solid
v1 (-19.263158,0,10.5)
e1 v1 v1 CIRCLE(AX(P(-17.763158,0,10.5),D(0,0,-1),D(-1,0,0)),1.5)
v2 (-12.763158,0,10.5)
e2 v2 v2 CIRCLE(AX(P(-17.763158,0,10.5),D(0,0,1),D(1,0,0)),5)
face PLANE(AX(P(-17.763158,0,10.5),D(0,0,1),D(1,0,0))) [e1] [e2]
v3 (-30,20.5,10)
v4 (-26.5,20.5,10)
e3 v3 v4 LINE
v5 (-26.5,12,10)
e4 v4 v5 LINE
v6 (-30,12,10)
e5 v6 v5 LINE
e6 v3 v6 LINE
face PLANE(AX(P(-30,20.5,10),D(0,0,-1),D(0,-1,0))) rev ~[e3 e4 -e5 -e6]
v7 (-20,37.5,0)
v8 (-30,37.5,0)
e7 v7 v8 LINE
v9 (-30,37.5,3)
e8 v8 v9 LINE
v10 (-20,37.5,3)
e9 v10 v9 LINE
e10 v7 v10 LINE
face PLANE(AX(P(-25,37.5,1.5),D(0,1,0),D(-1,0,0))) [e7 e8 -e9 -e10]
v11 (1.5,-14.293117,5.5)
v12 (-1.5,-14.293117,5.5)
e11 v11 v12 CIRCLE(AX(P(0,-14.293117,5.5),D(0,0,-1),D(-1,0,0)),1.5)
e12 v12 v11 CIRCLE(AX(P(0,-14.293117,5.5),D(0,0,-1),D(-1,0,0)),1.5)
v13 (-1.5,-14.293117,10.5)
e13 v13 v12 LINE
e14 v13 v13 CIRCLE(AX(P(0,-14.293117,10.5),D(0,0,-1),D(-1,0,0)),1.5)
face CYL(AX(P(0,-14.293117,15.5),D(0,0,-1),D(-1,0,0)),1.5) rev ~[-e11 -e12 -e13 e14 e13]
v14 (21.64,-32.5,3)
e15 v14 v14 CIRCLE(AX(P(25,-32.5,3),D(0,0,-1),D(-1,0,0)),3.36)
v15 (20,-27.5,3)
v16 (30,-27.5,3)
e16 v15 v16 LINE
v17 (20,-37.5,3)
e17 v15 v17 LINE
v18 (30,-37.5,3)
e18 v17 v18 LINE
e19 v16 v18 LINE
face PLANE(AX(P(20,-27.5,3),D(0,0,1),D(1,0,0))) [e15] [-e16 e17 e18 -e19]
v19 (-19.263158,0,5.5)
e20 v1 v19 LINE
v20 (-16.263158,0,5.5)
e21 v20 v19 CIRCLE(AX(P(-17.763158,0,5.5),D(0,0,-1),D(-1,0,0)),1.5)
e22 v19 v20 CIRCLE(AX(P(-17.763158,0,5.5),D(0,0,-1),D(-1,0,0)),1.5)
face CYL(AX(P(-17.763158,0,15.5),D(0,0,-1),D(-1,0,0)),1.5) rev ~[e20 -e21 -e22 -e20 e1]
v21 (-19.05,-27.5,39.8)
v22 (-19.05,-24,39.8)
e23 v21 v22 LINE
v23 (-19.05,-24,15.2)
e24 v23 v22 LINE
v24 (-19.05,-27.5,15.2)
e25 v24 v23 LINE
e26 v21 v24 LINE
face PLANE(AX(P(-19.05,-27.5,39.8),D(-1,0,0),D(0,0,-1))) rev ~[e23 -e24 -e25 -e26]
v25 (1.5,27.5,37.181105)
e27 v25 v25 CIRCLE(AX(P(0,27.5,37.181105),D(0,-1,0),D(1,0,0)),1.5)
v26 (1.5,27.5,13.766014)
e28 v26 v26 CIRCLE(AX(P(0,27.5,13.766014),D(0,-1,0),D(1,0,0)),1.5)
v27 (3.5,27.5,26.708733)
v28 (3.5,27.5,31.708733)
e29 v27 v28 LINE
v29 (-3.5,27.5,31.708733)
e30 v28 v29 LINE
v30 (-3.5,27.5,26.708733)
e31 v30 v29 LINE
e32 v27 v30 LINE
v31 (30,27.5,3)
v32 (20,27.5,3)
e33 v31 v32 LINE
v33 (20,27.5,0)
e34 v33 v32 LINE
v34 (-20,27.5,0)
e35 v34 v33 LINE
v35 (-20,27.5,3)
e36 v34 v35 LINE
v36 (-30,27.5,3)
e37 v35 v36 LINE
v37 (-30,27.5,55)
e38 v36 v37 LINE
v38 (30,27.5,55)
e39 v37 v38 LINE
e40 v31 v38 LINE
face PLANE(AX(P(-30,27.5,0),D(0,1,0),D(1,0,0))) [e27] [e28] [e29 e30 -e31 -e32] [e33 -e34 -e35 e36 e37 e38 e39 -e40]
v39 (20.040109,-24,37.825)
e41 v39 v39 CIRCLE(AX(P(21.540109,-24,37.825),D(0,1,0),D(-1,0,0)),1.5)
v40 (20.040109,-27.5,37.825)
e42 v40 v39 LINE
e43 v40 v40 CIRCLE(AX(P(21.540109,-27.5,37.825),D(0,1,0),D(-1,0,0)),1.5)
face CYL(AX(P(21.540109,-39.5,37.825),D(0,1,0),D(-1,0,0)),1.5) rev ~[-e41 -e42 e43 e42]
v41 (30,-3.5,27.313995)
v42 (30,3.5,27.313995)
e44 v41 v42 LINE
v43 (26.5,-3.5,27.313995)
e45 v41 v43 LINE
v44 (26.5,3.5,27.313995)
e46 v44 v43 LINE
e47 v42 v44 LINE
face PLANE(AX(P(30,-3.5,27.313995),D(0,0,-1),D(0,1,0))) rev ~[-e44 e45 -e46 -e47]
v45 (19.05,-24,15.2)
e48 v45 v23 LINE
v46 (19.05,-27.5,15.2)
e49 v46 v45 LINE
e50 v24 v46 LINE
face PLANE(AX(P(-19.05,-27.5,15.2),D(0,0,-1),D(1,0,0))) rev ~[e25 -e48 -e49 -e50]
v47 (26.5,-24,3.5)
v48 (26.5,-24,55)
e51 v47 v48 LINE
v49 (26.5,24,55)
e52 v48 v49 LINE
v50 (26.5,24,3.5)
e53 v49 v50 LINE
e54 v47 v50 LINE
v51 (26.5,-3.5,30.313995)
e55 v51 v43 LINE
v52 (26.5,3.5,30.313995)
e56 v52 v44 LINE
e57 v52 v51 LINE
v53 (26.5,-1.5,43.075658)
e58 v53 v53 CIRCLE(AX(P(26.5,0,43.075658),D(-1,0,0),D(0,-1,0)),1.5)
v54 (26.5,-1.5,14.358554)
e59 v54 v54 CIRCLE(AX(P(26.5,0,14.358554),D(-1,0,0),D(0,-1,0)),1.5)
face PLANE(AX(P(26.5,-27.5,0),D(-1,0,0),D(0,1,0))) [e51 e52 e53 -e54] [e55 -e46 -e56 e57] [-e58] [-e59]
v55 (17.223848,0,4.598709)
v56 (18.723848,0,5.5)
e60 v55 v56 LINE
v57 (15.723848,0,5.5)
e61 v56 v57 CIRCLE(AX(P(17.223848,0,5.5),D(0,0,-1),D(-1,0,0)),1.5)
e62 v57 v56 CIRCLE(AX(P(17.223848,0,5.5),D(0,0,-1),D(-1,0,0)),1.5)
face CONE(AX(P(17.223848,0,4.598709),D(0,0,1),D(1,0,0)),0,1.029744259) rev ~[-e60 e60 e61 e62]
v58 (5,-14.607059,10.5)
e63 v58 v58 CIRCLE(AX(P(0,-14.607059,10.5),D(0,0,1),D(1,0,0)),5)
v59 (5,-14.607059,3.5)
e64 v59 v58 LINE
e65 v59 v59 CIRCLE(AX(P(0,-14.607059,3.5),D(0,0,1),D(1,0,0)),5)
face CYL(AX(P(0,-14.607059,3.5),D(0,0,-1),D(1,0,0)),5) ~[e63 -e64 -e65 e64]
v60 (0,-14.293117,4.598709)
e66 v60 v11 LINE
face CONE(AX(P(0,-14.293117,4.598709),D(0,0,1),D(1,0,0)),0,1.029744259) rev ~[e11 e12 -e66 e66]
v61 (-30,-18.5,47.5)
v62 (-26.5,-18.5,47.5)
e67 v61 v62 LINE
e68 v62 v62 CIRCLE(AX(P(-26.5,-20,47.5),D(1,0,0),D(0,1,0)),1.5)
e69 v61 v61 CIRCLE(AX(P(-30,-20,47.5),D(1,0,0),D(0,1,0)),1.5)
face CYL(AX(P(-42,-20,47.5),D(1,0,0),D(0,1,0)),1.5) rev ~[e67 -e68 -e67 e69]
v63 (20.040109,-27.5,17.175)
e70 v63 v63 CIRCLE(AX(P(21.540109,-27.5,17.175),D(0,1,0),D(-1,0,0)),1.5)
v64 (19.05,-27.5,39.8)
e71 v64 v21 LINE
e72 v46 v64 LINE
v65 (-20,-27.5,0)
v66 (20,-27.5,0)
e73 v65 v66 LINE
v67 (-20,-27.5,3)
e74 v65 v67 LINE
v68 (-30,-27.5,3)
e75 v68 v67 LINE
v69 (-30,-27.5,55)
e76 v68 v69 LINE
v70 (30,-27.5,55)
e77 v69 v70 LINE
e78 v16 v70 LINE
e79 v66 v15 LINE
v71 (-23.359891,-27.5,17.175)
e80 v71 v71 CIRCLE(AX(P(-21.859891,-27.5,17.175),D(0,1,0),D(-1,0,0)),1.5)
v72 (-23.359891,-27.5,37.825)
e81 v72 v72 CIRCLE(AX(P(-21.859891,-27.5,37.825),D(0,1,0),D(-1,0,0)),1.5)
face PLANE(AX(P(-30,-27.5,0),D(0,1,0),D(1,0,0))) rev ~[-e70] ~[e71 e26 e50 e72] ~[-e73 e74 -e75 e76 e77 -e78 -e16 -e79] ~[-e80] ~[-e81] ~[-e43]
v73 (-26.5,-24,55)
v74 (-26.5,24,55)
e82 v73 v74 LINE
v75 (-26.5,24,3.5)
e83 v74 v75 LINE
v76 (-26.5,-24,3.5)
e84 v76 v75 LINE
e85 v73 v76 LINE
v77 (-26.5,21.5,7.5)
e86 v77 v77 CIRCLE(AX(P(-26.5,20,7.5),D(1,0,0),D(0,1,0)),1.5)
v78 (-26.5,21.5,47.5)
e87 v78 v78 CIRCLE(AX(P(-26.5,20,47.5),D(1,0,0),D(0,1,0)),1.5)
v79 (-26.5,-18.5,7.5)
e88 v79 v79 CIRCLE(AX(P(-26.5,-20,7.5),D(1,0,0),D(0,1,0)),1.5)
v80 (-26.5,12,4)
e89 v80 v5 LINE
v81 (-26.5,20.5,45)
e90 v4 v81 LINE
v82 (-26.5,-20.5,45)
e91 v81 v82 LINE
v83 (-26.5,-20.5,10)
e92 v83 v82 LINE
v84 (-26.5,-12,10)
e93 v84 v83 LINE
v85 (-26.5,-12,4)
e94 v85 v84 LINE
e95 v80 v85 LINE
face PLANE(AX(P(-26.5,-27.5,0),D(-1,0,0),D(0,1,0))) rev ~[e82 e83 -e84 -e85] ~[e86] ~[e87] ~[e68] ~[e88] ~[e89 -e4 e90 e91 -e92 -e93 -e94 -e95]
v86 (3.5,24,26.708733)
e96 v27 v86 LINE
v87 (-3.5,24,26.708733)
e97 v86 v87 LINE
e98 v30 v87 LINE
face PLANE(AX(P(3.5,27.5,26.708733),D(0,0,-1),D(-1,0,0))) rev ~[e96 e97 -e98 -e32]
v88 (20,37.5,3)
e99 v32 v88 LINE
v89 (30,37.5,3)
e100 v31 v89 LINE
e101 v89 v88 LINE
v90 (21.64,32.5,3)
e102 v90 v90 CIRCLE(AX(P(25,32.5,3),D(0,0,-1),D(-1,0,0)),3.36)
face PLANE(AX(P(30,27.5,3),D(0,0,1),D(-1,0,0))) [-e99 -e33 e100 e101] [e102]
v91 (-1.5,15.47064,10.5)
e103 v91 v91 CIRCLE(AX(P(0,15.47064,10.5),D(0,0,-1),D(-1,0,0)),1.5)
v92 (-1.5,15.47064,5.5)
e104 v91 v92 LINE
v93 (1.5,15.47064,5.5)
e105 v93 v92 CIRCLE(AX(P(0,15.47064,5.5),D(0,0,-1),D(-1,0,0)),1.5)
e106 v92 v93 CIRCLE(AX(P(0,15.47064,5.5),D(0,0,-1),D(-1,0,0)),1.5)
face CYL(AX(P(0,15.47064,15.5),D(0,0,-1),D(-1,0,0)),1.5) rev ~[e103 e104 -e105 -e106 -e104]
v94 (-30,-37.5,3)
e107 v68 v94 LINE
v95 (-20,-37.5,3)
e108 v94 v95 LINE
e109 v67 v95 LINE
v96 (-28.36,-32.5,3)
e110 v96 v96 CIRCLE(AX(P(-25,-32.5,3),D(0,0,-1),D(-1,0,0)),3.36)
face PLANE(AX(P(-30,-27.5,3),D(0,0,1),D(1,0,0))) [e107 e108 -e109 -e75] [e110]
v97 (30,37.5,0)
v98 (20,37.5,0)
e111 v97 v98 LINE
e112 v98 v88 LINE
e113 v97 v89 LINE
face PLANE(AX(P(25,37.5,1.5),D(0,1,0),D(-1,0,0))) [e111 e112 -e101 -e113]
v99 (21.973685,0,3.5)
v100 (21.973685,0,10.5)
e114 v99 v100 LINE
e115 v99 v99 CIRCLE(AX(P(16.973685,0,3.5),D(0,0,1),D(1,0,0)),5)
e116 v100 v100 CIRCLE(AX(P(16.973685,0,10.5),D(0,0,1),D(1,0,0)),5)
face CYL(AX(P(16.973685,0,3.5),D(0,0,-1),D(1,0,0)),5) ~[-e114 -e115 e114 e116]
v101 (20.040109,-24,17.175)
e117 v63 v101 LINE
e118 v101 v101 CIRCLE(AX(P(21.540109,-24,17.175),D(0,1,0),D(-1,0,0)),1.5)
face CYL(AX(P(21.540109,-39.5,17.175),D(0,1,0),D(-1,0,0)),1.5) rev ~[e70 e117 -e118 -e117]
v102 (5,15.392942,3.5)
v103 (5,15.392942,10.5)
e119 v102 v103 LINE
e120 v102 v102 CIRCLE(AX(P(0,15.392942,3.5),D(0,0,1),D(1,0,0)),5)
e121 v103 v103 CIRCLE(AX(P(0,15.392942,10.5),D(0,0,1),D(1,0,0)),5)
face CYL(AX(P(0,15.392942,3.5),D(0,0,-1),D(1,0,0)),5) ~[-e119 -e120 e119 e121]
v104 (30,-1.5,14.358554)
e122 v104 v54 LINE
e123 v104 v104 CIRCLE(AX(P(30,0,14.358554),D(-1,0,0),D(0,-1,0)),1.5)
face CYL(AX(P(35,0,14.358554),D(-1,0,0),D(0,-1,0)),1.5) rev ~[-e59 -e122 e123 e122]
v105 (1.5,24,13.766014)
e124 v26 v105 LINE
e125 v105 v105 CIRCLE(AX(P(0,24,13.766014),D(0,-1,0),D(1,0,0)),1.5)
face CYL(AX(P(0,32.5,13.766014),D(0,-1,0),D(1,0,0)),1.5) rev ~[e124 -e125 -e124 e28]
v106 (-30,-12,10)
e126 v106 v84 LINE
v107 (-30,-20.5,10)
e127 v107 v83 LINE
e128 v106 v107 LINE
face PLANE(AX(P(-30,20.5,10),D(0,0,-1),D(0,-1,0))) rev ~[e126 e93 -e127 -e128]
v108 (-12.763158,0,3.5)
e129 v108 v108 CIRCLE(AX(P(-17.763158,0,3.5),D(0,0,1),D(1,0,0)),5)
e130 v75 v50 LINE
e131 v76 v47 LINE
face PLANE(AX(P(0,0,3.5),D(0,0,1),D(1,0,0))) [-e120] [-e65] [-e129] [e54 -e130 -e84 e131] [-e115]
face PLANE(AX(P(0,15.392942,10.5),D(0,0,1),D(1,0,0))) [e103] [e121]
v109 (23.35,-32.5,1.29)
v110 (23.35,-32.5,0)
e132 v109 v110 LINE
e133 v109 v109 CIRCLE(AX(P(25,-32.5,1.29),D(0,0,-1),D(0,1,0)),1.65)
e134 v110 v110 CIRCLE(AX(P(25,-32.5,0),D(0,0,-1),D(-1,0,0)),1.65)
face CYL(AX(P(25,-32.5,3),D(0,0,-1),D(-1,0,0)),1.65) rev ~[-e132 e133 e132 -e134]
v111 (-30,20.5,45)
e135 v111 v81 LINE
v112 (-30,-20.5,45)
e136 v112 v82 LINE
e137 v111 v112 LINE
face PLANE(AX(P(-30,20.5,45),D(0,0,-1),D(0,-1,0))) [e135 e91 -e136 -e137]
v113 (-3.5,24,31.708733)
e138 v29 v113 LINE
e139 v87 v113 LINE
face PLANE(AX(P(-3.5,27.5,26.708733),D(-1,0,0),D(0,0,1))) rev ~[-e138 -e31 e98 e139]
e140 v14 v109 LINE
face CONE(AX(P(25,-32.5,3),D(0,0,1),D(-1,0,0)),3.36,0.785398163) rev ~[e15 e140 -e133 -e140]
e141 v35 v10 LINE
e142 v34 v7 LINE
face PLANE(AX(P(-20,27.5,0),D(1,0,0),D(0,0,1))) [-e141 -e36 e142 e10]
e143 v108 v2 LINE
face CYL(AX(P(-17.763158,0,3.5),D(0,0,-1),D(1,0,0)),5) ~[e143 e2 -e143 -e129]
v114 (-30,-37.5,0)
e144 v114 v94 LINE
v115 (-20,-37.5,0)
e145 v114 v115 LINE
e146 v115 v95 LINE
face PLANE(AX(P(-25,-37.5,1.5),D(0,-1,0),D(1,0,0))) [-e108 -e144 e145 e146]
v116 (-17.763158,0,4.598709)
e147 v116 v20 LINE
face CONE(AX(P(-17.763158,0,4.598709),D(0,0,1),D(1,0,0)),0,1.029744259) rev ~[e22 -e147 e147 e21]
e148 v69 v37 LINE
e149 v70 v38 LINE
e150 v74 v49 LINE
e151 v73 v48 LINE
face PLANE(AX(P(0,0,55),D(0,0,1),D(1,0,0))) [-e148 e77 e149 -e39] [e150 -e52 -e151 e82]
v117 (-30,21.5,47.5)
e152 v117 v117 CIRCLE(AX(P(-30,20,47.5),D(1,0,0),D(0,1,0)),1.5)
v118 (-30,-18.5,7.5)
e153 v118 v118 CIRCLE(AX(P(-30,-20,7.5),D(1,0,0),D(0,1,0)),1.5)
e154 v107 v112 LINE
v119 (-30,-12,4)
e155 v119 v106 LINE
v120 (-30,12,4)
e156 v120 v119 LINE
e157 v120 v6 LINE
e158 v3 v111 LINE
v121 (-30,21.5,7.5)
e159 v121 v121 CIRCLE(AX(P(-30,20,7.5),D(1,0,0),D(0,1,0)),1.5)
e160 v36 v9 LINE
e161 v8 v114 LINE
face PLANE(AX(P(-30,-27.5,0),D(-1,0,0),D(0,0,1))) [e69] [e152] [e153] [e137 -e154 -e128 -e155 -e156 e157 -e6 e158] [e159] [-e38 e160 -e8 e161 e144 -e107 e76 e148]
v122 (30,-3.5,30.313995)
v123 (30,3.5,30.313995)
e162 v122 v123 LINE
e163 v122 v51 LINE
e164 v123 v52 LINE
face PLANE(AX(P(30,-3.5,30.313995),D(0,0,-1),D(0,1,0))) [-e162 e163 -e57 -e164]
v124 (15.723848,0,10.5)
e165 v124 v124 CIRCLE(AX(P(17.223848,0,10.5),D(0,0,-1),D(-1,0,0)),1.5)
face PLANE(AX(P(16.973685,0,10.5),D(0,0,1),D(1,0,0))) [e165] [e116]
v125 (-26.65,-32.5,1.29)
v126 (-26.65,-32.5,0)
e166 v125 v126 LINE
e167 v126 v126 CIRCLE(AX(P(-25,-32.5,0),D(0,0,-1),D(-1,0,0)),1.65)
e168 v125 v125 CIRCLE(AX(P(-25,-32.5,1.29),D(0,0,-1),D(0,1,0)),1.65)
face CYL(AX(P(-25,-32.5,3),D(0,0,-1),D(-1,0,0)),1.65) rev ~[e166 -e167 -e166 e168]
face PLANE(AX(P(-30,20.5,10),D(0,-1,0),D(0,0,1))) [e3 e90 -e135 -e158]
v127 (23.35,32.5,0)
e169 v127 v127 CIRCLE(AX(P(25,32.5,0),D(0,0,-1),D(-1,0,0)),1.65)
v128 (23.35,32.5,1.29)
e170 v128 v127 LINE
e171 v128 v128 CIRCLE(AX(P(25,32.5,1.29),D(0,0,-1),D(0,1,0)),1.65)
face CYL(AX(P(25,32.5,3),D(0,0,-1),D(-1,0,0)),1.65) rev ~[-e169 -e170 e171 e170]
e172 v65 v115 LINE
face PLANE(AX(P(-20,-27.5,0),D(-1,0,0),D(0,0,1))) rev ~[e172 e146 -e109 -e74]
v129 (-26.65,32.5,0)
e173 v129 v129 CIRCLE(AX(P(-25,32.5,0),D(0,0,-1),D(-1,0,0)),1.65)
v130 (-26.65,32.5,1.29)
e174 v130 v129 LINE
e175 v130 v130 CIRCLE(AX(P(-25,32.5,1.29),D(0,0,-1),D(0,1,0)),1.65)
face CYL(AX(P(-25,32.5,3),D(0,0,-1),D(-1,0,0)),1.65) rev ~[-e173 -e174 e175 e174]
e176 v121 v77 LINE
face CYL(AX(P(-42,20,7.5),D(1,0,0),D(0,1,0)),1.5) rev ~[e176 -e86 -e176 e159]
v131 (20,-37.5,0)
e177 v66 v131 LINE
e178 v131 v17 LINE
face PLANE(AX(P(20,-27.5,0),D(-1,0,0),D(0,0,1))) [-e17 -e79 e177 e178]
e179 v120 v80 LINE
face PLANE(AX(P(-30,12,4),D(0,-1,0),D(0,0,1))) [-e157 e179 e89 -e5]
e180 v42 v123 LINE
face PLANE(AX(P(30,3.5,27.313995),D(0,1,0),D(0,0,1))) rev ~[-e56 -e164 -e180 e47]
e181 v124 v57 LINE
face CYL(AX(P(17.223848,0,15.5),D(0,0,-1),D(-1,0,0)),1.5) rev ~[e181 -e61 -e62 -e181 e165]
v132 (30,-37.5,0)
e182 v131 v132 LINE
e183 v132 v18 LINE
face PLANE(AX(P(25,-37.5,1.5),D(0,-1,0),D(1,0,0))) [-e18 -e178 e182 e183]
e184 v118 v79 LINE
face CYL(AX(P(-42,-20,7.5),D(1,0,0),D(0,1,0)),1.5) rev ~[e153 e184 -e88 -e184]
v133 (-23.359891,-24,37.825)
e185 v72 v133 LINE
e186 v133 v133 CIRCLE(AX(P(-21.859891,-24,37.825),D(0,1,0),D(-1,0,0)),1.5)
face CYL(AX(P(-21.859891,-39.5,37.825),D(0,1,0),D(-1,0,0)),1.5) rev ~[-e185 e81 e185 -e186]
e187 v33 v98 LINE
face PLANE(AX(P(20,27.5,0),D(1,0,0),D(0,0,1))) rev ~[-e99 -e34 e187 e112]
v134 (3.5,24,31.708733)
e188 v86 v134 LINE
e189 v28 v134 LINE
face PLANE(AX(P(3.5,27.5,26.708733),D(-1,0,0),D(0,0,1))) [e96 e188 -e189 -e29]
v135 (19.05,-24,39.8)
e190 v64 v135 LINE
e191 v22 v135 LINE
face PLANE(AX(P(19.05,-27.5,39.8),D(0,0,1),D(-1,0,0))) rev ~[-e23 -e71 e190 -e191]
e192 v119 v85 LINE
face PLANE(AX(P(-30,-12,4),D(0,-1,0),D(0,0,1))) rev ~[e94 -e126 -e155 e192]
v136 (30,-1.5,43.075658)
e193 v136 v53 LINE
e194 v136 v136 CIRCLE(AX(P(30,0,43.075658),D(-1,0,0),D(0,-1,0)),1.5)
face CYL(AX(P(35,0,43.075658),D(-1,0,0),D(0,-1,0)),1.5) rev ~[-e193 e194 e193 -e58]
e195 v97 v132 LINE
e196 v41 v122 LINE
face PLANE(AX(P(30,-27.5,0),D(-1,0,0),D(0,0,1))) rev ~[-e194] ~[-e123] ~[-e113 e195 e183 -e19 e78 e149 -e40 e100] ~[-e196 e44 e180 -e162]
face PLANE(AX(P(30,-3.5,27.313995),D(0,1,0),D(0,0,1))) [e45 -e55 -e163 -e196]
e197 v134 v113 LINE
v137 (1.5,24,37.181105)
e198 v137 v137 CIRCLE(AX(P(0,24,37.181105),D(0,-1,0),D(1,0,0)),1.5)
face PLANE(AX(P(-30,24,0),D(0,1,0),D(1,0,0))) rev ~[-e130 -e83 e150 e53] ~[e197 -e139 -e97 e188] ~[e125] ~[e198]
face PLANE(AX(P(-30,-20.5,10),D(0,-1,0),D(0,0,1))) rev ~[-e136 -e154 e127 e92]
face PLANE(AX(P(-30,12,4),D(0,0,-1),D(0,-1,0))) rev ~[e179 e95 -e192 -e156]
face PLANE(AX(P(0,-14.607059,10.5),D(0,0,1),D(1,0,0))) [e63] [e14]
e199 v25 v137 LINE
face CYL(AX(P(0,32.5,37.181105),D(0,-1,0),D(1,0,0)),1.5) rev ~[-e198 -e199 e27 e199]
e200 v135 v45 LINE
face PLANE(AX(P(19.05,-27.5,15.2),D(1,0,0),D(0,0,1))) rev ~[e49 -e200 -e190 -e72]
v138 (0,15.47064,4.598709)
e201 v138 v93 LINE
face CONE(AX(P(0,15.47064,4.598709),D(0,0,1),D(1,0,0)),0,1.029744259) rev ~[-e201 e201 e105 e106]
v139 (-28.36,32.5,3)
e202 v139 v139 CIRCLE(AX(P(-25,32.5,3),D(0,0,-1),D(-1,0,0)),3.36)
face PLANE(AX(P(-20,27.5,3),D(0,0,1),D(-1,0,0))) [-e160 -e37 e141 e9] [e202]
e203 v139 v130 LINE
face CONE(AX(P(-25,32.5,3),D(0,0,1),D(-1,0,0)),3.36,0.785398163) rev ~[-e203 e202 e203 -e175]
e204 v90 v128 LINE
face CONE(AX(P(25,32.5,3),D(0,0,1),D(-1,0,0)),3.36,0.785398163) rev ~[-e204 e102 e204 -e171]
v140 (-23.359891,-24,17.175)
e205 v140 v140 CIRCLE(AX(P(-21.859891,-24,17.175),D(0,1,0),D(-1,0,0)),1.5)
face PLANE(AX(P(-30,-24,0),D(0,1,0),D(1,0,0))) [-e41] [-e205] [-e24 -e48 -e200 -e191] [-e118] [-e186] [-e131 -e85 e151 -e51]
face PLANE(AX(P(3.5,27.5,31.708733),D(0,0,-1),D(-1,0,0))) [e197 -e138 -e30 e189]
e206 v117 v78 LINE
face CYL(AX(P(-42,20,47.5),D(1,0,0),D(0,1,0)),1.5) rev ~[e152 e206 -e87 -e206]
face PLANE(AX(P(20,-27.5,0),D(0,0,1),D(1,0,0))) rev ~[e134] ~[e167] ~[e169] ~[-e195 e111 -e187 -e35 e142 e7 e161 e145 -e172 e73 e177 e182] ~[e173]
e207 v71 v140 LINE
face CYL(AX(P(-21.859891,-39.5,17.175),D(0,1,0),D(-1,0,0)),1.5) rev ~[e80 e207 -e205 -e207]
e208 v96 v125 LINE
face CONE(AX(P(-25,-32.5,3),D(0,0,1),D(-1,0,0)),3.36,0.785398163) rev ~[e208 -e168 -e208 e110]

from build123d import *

# Parameters (mm, degrees)
F0_W            = 60
F0_H            = 55
F1_DEPTH        = 55
F2_T            = -3.5
F4_DEPTH        = 5
F6_D            = 3
F6_DEPTH        = 12
F6_TIP          = 0.9012909285
F8_D            = 3
F8_DEPTH        = 12
F8_TIP          = 0.9012909285
F7_W            = 41
F7_H            = 35
F9_DEPTH        = 25
F10_R           = 5
F11_DEPTH       = 7
F13_D           = 3
F13_DEPTH       = 5
F13_TIP         = 0.9012909285
F14_W           = 7
F14_H           = 3
F15_DEPTH       = 5
F16_W           = 7
F16_H           = 5
F17_DEPTH       = 5
F18_W           = 24
F18_H           = 6
F19_DEPTH       = 4
F21_D           = 3
F21_DEPTH       = 5
F21_TIP         = 0.9012909285
F23_D           = 3
F23_DEPTH       = 5
F23_TIP         = 0.9012909285
F24_W           = 10
F24_H           = 3
F25_DEPTH       = 10
F27_D           = 3.3
F27_DEPTH       = 5
F27_CSINK_D     = 6.72
F27_CSINK_ANGLE = 90
F27_TIP         = 0.9914200214
F29_D           = 3.3
F29_DEPTH       = 5
F29_CSINK_D     = 6.72
F29_CSINK_ANGLE = 90
F29_TIP         = 0.9914200214
F30_W           = 10
F30_H           = 3
F31_DEPTH       = 10
F32_DEPTH       = 10
F34_D           = 3.3
F34_DEPTH       = 5
F34_CSINK_D     = 6.72
F34_CSINK_ANGLE = 90
F34_TIP         = 0.9914200214


with BuildPart() as f1:
    # F0 (on Top) → F1 (new body)
    with BuildSketch(Plane.XY):
        Rectangle(F0_W, F0_H)
    extrude(amount=F1_DEPTH)

    # F2
    f2_openings = [f1.faces().sort_by_distance(p)[0] for p in [
        (0, 0, 55),
    ]]
    offset(amount=F2_T, openings=f2_openings)

    # F3 (on face) → F4 (cut)
    with BuildSketch(Plane.XZ.offset(27.5)):
        Polygon((19.05, 39.8), (-19.05, 39.8), (-19.05, 15.2), (0, 15.2), (19.05, 15.2), align=None)
    extrude(amount=-F4_DEPTH, mode=Mode.SUBTRACT)

    # F6
    with Locations(Plane.XZ.offset(27.5)):
        with Locations((-21.8598913223, 37.825), (-21.8598913223, 17.175), (21.5401086777, 17.175), (21.5401086777, 37.825)):
            Hole(F6_D / 2, depth=F6_DEPTH)
            with Locations((0, 0, -(F6_DEPTH + F6_TIP / 2))):  # 118° drill point
                Cone(0, F6_D / 2, F6_TIP, mode=Mode.SUBTRACT)

    # F8
    with Locations(Plane(origin=(-30, 0, 0), x_dir=(0, -1, 0), z_dir=(-1, 0, 0))):
        with Locations((-20, 47.5), (-20, 7.5), (20, 7.5), (20, 47.5)):
            Hole(F8_D / 2, depth=F8_DEPTH)
            with Locations((0, 0, -(F8_DEPTH + F8_TIP / 2))):  # 118° drill point
                Cone(0, F8_D / 2, F8_TIP, mode=Mode.SUBTRACT)

    # F7 (on face) → F9 (cut)
    with BuildSketch(Plane(origin=(-30, 0, 0), x_dir=(0, -1, 0), z_dir=(-1, 0, 0))):
        with Locations((0, 27.5)):
            Rectangle(F7_W, F7_H)
    extrude(amount=-F9_DEPTH, mode=Mode.SUBTRACT)

    # F10 (on face) → F11 (join)
    with BuildSketch(Plane.XY.offset(3.5)):
        with Locations((-17.7631583065, 0)):
            Circle(F10_R)
        with Locations((0, 15.3929423541)):
            Circle(F10_R)
        with Locations((16.9736854732, 0)):
            Circle(F10_R)
        with Locations((0, -14.607058838)):
            Circle(F10_R)
    extrude(amount=F11_DEPTH)

    # F13
    with Locations(Plane.XY.offset(10.5)):
        with Locations((0, 15.4706398025), (-17.7631583065, 0), (0, -14.2931165174), (17.22384803, 0)):
            Hole(F13_D / 2, depth=F13_DEPTH)
            with Locations((0, 0, -(F13_DEPTH + F13_TIP / 2))):  # 118° drill point
                Cone(0, F13_D / 2, F13_TIP, mode=Mode.SUBTRACT)

    # F14 (on face) → F15 (cut)
    with BuildSketch(Plane.YZ.offset(30)):
        with Locations((0, 28.8139954209)):
            Rectangle(F14_W, F14_H)
    extrude(amount=-F15_DEPTH, mode=Mode.SUBTRACT)

    # F16 (on face) → F17 (cut)
    with BuildSketch(Plane(origin=(0, 27.5, 0), x_dir=(-1, 0, 0), z_dir=(0, 1, 0))):
        with Locations((0, 29.2087327689)):
            Rectangle(F16_W, F16_H)
    extrude(amount=-F17_DEPTH, mode=Mode.SUBTRACT)

    # F18 (on face) → F19 (cut)
    with BuildSketch(Plane(origin=(-30, 0, 0), x_dir=(0, -1, 0), z_dir=(-1, 0, 0))):
        with Locations((0, 7)):
            Rectangle(F18_W, F18_H)
    extrude(amount=-F19_DEPTH, mode=Mode.SUBTRACT)

    # F21
    with Locations(Plane.YZ.offset(30)):
        with Locations((0, 43.075658381), (0, 14.3585540354)):
            Hole(F21_D / 2, depth=F21_DEPTH)
            with Locations((0, 0, -(F21_DEPTH + F21_TIP / 2))):  # 118° drill point
                Cone(0, F21_D / 2, F21_TIP, mode=Mode.SUBTRACT)

    # F23
    with Locations(Plane(origin=(0, 27.5, 0), x_dir=(-1, 0, 0), z_dir=(0, 1, 0))):
        with Locations((0, 37.1811050391), (0, 13.7660141307)):
            Hole(F23_D / 2, depth=F23_DEPTH)
            with Locations((0, 0, -(F23_DEPTH + F23_TIP / 2))):  # 118° drill point
                Cone(0, F23_D / 2, F23_TIP, mode=Mode.SUBTRACT)

    # F24 (on face) → F25 (join)
    with BuildSketch(Plane(origin=(0, 27.5, 0), x_dir=(-1, 0, 0), z_dir=(0, 1, 0))):
        with Locations((-25, 1.5)):
            Rectangle(F24_W, F24_H)
        with Locations((25, 1.5)):
            Rectangle(F24_W, F24_H)
    extrude(amount=F25_DEPTH)

    # F27
    with Locations(Plane.XY.offset(3)):
        with Locations((25, 32.5)):
            CounterSinkHole(F27_D / 2, F27_CSINK_D / 2, depth=F27_DEPTH, counter_sink_angle=F27_CSINK_ANGLE)
            with Locations((0, 0, -(F27_DEPTH + F27_TIP / 2))):  # 118° drill point
                Cone(0, F27_D / 2, F27_TIP, mode=Mode.SUBTRACT)

    # F29
    with Locations(Plane.XY.offset(3)):
        with Locations((-25, 32.5)):
            CounterSinkHole(F29_D / 2, F29_CSINK_D / 2, depth=F29_DEPTH, counter_sink_angle=F29_CSINK_ANGLE)
            with Locations((0, 0, -(F29_DEPTH + F29_TIP / 2))):  # 118° drill point
                Cone(0, F29_D / 2, F29_TIP, mode=Mode.SUBTRACT)

    # F30 (on face) → F31 (join)
    with BuildSketch(Plane.XZ.offset(27.5)):
        with Locations((-25, 1.5)):
            Rectangle(F30_W, F30_H)
    extrude(amount=F31_DEPTH)

    # F30 (on face) → F32 (join)
    with BuildSketch(Plane.XZ.offset(27.5)):
        with Locations((25, 1.5)):
            Rectangle(F30_W, F30_H)
    extrude(amount=F32_DEPTH)

    # F34
    with Locations(Plane.XY.offset(3)):
        with Locations((-25, -32.5), (25, -32.5)):
            CounterSinkHole(F34_D / 2, F34_CSINK_D / 2, depth=F34_DEPTH, counter_sink_angle=F34_CSINK_ANGLE)
            with Locations((0, 0, -(F34_DEPTH + F34_TIP / 2))):  # 118° drill point
                Cone(0, F34_D / 2, F34_TIP, mode=Mode.SUBTRACT)


solid = f1.part
